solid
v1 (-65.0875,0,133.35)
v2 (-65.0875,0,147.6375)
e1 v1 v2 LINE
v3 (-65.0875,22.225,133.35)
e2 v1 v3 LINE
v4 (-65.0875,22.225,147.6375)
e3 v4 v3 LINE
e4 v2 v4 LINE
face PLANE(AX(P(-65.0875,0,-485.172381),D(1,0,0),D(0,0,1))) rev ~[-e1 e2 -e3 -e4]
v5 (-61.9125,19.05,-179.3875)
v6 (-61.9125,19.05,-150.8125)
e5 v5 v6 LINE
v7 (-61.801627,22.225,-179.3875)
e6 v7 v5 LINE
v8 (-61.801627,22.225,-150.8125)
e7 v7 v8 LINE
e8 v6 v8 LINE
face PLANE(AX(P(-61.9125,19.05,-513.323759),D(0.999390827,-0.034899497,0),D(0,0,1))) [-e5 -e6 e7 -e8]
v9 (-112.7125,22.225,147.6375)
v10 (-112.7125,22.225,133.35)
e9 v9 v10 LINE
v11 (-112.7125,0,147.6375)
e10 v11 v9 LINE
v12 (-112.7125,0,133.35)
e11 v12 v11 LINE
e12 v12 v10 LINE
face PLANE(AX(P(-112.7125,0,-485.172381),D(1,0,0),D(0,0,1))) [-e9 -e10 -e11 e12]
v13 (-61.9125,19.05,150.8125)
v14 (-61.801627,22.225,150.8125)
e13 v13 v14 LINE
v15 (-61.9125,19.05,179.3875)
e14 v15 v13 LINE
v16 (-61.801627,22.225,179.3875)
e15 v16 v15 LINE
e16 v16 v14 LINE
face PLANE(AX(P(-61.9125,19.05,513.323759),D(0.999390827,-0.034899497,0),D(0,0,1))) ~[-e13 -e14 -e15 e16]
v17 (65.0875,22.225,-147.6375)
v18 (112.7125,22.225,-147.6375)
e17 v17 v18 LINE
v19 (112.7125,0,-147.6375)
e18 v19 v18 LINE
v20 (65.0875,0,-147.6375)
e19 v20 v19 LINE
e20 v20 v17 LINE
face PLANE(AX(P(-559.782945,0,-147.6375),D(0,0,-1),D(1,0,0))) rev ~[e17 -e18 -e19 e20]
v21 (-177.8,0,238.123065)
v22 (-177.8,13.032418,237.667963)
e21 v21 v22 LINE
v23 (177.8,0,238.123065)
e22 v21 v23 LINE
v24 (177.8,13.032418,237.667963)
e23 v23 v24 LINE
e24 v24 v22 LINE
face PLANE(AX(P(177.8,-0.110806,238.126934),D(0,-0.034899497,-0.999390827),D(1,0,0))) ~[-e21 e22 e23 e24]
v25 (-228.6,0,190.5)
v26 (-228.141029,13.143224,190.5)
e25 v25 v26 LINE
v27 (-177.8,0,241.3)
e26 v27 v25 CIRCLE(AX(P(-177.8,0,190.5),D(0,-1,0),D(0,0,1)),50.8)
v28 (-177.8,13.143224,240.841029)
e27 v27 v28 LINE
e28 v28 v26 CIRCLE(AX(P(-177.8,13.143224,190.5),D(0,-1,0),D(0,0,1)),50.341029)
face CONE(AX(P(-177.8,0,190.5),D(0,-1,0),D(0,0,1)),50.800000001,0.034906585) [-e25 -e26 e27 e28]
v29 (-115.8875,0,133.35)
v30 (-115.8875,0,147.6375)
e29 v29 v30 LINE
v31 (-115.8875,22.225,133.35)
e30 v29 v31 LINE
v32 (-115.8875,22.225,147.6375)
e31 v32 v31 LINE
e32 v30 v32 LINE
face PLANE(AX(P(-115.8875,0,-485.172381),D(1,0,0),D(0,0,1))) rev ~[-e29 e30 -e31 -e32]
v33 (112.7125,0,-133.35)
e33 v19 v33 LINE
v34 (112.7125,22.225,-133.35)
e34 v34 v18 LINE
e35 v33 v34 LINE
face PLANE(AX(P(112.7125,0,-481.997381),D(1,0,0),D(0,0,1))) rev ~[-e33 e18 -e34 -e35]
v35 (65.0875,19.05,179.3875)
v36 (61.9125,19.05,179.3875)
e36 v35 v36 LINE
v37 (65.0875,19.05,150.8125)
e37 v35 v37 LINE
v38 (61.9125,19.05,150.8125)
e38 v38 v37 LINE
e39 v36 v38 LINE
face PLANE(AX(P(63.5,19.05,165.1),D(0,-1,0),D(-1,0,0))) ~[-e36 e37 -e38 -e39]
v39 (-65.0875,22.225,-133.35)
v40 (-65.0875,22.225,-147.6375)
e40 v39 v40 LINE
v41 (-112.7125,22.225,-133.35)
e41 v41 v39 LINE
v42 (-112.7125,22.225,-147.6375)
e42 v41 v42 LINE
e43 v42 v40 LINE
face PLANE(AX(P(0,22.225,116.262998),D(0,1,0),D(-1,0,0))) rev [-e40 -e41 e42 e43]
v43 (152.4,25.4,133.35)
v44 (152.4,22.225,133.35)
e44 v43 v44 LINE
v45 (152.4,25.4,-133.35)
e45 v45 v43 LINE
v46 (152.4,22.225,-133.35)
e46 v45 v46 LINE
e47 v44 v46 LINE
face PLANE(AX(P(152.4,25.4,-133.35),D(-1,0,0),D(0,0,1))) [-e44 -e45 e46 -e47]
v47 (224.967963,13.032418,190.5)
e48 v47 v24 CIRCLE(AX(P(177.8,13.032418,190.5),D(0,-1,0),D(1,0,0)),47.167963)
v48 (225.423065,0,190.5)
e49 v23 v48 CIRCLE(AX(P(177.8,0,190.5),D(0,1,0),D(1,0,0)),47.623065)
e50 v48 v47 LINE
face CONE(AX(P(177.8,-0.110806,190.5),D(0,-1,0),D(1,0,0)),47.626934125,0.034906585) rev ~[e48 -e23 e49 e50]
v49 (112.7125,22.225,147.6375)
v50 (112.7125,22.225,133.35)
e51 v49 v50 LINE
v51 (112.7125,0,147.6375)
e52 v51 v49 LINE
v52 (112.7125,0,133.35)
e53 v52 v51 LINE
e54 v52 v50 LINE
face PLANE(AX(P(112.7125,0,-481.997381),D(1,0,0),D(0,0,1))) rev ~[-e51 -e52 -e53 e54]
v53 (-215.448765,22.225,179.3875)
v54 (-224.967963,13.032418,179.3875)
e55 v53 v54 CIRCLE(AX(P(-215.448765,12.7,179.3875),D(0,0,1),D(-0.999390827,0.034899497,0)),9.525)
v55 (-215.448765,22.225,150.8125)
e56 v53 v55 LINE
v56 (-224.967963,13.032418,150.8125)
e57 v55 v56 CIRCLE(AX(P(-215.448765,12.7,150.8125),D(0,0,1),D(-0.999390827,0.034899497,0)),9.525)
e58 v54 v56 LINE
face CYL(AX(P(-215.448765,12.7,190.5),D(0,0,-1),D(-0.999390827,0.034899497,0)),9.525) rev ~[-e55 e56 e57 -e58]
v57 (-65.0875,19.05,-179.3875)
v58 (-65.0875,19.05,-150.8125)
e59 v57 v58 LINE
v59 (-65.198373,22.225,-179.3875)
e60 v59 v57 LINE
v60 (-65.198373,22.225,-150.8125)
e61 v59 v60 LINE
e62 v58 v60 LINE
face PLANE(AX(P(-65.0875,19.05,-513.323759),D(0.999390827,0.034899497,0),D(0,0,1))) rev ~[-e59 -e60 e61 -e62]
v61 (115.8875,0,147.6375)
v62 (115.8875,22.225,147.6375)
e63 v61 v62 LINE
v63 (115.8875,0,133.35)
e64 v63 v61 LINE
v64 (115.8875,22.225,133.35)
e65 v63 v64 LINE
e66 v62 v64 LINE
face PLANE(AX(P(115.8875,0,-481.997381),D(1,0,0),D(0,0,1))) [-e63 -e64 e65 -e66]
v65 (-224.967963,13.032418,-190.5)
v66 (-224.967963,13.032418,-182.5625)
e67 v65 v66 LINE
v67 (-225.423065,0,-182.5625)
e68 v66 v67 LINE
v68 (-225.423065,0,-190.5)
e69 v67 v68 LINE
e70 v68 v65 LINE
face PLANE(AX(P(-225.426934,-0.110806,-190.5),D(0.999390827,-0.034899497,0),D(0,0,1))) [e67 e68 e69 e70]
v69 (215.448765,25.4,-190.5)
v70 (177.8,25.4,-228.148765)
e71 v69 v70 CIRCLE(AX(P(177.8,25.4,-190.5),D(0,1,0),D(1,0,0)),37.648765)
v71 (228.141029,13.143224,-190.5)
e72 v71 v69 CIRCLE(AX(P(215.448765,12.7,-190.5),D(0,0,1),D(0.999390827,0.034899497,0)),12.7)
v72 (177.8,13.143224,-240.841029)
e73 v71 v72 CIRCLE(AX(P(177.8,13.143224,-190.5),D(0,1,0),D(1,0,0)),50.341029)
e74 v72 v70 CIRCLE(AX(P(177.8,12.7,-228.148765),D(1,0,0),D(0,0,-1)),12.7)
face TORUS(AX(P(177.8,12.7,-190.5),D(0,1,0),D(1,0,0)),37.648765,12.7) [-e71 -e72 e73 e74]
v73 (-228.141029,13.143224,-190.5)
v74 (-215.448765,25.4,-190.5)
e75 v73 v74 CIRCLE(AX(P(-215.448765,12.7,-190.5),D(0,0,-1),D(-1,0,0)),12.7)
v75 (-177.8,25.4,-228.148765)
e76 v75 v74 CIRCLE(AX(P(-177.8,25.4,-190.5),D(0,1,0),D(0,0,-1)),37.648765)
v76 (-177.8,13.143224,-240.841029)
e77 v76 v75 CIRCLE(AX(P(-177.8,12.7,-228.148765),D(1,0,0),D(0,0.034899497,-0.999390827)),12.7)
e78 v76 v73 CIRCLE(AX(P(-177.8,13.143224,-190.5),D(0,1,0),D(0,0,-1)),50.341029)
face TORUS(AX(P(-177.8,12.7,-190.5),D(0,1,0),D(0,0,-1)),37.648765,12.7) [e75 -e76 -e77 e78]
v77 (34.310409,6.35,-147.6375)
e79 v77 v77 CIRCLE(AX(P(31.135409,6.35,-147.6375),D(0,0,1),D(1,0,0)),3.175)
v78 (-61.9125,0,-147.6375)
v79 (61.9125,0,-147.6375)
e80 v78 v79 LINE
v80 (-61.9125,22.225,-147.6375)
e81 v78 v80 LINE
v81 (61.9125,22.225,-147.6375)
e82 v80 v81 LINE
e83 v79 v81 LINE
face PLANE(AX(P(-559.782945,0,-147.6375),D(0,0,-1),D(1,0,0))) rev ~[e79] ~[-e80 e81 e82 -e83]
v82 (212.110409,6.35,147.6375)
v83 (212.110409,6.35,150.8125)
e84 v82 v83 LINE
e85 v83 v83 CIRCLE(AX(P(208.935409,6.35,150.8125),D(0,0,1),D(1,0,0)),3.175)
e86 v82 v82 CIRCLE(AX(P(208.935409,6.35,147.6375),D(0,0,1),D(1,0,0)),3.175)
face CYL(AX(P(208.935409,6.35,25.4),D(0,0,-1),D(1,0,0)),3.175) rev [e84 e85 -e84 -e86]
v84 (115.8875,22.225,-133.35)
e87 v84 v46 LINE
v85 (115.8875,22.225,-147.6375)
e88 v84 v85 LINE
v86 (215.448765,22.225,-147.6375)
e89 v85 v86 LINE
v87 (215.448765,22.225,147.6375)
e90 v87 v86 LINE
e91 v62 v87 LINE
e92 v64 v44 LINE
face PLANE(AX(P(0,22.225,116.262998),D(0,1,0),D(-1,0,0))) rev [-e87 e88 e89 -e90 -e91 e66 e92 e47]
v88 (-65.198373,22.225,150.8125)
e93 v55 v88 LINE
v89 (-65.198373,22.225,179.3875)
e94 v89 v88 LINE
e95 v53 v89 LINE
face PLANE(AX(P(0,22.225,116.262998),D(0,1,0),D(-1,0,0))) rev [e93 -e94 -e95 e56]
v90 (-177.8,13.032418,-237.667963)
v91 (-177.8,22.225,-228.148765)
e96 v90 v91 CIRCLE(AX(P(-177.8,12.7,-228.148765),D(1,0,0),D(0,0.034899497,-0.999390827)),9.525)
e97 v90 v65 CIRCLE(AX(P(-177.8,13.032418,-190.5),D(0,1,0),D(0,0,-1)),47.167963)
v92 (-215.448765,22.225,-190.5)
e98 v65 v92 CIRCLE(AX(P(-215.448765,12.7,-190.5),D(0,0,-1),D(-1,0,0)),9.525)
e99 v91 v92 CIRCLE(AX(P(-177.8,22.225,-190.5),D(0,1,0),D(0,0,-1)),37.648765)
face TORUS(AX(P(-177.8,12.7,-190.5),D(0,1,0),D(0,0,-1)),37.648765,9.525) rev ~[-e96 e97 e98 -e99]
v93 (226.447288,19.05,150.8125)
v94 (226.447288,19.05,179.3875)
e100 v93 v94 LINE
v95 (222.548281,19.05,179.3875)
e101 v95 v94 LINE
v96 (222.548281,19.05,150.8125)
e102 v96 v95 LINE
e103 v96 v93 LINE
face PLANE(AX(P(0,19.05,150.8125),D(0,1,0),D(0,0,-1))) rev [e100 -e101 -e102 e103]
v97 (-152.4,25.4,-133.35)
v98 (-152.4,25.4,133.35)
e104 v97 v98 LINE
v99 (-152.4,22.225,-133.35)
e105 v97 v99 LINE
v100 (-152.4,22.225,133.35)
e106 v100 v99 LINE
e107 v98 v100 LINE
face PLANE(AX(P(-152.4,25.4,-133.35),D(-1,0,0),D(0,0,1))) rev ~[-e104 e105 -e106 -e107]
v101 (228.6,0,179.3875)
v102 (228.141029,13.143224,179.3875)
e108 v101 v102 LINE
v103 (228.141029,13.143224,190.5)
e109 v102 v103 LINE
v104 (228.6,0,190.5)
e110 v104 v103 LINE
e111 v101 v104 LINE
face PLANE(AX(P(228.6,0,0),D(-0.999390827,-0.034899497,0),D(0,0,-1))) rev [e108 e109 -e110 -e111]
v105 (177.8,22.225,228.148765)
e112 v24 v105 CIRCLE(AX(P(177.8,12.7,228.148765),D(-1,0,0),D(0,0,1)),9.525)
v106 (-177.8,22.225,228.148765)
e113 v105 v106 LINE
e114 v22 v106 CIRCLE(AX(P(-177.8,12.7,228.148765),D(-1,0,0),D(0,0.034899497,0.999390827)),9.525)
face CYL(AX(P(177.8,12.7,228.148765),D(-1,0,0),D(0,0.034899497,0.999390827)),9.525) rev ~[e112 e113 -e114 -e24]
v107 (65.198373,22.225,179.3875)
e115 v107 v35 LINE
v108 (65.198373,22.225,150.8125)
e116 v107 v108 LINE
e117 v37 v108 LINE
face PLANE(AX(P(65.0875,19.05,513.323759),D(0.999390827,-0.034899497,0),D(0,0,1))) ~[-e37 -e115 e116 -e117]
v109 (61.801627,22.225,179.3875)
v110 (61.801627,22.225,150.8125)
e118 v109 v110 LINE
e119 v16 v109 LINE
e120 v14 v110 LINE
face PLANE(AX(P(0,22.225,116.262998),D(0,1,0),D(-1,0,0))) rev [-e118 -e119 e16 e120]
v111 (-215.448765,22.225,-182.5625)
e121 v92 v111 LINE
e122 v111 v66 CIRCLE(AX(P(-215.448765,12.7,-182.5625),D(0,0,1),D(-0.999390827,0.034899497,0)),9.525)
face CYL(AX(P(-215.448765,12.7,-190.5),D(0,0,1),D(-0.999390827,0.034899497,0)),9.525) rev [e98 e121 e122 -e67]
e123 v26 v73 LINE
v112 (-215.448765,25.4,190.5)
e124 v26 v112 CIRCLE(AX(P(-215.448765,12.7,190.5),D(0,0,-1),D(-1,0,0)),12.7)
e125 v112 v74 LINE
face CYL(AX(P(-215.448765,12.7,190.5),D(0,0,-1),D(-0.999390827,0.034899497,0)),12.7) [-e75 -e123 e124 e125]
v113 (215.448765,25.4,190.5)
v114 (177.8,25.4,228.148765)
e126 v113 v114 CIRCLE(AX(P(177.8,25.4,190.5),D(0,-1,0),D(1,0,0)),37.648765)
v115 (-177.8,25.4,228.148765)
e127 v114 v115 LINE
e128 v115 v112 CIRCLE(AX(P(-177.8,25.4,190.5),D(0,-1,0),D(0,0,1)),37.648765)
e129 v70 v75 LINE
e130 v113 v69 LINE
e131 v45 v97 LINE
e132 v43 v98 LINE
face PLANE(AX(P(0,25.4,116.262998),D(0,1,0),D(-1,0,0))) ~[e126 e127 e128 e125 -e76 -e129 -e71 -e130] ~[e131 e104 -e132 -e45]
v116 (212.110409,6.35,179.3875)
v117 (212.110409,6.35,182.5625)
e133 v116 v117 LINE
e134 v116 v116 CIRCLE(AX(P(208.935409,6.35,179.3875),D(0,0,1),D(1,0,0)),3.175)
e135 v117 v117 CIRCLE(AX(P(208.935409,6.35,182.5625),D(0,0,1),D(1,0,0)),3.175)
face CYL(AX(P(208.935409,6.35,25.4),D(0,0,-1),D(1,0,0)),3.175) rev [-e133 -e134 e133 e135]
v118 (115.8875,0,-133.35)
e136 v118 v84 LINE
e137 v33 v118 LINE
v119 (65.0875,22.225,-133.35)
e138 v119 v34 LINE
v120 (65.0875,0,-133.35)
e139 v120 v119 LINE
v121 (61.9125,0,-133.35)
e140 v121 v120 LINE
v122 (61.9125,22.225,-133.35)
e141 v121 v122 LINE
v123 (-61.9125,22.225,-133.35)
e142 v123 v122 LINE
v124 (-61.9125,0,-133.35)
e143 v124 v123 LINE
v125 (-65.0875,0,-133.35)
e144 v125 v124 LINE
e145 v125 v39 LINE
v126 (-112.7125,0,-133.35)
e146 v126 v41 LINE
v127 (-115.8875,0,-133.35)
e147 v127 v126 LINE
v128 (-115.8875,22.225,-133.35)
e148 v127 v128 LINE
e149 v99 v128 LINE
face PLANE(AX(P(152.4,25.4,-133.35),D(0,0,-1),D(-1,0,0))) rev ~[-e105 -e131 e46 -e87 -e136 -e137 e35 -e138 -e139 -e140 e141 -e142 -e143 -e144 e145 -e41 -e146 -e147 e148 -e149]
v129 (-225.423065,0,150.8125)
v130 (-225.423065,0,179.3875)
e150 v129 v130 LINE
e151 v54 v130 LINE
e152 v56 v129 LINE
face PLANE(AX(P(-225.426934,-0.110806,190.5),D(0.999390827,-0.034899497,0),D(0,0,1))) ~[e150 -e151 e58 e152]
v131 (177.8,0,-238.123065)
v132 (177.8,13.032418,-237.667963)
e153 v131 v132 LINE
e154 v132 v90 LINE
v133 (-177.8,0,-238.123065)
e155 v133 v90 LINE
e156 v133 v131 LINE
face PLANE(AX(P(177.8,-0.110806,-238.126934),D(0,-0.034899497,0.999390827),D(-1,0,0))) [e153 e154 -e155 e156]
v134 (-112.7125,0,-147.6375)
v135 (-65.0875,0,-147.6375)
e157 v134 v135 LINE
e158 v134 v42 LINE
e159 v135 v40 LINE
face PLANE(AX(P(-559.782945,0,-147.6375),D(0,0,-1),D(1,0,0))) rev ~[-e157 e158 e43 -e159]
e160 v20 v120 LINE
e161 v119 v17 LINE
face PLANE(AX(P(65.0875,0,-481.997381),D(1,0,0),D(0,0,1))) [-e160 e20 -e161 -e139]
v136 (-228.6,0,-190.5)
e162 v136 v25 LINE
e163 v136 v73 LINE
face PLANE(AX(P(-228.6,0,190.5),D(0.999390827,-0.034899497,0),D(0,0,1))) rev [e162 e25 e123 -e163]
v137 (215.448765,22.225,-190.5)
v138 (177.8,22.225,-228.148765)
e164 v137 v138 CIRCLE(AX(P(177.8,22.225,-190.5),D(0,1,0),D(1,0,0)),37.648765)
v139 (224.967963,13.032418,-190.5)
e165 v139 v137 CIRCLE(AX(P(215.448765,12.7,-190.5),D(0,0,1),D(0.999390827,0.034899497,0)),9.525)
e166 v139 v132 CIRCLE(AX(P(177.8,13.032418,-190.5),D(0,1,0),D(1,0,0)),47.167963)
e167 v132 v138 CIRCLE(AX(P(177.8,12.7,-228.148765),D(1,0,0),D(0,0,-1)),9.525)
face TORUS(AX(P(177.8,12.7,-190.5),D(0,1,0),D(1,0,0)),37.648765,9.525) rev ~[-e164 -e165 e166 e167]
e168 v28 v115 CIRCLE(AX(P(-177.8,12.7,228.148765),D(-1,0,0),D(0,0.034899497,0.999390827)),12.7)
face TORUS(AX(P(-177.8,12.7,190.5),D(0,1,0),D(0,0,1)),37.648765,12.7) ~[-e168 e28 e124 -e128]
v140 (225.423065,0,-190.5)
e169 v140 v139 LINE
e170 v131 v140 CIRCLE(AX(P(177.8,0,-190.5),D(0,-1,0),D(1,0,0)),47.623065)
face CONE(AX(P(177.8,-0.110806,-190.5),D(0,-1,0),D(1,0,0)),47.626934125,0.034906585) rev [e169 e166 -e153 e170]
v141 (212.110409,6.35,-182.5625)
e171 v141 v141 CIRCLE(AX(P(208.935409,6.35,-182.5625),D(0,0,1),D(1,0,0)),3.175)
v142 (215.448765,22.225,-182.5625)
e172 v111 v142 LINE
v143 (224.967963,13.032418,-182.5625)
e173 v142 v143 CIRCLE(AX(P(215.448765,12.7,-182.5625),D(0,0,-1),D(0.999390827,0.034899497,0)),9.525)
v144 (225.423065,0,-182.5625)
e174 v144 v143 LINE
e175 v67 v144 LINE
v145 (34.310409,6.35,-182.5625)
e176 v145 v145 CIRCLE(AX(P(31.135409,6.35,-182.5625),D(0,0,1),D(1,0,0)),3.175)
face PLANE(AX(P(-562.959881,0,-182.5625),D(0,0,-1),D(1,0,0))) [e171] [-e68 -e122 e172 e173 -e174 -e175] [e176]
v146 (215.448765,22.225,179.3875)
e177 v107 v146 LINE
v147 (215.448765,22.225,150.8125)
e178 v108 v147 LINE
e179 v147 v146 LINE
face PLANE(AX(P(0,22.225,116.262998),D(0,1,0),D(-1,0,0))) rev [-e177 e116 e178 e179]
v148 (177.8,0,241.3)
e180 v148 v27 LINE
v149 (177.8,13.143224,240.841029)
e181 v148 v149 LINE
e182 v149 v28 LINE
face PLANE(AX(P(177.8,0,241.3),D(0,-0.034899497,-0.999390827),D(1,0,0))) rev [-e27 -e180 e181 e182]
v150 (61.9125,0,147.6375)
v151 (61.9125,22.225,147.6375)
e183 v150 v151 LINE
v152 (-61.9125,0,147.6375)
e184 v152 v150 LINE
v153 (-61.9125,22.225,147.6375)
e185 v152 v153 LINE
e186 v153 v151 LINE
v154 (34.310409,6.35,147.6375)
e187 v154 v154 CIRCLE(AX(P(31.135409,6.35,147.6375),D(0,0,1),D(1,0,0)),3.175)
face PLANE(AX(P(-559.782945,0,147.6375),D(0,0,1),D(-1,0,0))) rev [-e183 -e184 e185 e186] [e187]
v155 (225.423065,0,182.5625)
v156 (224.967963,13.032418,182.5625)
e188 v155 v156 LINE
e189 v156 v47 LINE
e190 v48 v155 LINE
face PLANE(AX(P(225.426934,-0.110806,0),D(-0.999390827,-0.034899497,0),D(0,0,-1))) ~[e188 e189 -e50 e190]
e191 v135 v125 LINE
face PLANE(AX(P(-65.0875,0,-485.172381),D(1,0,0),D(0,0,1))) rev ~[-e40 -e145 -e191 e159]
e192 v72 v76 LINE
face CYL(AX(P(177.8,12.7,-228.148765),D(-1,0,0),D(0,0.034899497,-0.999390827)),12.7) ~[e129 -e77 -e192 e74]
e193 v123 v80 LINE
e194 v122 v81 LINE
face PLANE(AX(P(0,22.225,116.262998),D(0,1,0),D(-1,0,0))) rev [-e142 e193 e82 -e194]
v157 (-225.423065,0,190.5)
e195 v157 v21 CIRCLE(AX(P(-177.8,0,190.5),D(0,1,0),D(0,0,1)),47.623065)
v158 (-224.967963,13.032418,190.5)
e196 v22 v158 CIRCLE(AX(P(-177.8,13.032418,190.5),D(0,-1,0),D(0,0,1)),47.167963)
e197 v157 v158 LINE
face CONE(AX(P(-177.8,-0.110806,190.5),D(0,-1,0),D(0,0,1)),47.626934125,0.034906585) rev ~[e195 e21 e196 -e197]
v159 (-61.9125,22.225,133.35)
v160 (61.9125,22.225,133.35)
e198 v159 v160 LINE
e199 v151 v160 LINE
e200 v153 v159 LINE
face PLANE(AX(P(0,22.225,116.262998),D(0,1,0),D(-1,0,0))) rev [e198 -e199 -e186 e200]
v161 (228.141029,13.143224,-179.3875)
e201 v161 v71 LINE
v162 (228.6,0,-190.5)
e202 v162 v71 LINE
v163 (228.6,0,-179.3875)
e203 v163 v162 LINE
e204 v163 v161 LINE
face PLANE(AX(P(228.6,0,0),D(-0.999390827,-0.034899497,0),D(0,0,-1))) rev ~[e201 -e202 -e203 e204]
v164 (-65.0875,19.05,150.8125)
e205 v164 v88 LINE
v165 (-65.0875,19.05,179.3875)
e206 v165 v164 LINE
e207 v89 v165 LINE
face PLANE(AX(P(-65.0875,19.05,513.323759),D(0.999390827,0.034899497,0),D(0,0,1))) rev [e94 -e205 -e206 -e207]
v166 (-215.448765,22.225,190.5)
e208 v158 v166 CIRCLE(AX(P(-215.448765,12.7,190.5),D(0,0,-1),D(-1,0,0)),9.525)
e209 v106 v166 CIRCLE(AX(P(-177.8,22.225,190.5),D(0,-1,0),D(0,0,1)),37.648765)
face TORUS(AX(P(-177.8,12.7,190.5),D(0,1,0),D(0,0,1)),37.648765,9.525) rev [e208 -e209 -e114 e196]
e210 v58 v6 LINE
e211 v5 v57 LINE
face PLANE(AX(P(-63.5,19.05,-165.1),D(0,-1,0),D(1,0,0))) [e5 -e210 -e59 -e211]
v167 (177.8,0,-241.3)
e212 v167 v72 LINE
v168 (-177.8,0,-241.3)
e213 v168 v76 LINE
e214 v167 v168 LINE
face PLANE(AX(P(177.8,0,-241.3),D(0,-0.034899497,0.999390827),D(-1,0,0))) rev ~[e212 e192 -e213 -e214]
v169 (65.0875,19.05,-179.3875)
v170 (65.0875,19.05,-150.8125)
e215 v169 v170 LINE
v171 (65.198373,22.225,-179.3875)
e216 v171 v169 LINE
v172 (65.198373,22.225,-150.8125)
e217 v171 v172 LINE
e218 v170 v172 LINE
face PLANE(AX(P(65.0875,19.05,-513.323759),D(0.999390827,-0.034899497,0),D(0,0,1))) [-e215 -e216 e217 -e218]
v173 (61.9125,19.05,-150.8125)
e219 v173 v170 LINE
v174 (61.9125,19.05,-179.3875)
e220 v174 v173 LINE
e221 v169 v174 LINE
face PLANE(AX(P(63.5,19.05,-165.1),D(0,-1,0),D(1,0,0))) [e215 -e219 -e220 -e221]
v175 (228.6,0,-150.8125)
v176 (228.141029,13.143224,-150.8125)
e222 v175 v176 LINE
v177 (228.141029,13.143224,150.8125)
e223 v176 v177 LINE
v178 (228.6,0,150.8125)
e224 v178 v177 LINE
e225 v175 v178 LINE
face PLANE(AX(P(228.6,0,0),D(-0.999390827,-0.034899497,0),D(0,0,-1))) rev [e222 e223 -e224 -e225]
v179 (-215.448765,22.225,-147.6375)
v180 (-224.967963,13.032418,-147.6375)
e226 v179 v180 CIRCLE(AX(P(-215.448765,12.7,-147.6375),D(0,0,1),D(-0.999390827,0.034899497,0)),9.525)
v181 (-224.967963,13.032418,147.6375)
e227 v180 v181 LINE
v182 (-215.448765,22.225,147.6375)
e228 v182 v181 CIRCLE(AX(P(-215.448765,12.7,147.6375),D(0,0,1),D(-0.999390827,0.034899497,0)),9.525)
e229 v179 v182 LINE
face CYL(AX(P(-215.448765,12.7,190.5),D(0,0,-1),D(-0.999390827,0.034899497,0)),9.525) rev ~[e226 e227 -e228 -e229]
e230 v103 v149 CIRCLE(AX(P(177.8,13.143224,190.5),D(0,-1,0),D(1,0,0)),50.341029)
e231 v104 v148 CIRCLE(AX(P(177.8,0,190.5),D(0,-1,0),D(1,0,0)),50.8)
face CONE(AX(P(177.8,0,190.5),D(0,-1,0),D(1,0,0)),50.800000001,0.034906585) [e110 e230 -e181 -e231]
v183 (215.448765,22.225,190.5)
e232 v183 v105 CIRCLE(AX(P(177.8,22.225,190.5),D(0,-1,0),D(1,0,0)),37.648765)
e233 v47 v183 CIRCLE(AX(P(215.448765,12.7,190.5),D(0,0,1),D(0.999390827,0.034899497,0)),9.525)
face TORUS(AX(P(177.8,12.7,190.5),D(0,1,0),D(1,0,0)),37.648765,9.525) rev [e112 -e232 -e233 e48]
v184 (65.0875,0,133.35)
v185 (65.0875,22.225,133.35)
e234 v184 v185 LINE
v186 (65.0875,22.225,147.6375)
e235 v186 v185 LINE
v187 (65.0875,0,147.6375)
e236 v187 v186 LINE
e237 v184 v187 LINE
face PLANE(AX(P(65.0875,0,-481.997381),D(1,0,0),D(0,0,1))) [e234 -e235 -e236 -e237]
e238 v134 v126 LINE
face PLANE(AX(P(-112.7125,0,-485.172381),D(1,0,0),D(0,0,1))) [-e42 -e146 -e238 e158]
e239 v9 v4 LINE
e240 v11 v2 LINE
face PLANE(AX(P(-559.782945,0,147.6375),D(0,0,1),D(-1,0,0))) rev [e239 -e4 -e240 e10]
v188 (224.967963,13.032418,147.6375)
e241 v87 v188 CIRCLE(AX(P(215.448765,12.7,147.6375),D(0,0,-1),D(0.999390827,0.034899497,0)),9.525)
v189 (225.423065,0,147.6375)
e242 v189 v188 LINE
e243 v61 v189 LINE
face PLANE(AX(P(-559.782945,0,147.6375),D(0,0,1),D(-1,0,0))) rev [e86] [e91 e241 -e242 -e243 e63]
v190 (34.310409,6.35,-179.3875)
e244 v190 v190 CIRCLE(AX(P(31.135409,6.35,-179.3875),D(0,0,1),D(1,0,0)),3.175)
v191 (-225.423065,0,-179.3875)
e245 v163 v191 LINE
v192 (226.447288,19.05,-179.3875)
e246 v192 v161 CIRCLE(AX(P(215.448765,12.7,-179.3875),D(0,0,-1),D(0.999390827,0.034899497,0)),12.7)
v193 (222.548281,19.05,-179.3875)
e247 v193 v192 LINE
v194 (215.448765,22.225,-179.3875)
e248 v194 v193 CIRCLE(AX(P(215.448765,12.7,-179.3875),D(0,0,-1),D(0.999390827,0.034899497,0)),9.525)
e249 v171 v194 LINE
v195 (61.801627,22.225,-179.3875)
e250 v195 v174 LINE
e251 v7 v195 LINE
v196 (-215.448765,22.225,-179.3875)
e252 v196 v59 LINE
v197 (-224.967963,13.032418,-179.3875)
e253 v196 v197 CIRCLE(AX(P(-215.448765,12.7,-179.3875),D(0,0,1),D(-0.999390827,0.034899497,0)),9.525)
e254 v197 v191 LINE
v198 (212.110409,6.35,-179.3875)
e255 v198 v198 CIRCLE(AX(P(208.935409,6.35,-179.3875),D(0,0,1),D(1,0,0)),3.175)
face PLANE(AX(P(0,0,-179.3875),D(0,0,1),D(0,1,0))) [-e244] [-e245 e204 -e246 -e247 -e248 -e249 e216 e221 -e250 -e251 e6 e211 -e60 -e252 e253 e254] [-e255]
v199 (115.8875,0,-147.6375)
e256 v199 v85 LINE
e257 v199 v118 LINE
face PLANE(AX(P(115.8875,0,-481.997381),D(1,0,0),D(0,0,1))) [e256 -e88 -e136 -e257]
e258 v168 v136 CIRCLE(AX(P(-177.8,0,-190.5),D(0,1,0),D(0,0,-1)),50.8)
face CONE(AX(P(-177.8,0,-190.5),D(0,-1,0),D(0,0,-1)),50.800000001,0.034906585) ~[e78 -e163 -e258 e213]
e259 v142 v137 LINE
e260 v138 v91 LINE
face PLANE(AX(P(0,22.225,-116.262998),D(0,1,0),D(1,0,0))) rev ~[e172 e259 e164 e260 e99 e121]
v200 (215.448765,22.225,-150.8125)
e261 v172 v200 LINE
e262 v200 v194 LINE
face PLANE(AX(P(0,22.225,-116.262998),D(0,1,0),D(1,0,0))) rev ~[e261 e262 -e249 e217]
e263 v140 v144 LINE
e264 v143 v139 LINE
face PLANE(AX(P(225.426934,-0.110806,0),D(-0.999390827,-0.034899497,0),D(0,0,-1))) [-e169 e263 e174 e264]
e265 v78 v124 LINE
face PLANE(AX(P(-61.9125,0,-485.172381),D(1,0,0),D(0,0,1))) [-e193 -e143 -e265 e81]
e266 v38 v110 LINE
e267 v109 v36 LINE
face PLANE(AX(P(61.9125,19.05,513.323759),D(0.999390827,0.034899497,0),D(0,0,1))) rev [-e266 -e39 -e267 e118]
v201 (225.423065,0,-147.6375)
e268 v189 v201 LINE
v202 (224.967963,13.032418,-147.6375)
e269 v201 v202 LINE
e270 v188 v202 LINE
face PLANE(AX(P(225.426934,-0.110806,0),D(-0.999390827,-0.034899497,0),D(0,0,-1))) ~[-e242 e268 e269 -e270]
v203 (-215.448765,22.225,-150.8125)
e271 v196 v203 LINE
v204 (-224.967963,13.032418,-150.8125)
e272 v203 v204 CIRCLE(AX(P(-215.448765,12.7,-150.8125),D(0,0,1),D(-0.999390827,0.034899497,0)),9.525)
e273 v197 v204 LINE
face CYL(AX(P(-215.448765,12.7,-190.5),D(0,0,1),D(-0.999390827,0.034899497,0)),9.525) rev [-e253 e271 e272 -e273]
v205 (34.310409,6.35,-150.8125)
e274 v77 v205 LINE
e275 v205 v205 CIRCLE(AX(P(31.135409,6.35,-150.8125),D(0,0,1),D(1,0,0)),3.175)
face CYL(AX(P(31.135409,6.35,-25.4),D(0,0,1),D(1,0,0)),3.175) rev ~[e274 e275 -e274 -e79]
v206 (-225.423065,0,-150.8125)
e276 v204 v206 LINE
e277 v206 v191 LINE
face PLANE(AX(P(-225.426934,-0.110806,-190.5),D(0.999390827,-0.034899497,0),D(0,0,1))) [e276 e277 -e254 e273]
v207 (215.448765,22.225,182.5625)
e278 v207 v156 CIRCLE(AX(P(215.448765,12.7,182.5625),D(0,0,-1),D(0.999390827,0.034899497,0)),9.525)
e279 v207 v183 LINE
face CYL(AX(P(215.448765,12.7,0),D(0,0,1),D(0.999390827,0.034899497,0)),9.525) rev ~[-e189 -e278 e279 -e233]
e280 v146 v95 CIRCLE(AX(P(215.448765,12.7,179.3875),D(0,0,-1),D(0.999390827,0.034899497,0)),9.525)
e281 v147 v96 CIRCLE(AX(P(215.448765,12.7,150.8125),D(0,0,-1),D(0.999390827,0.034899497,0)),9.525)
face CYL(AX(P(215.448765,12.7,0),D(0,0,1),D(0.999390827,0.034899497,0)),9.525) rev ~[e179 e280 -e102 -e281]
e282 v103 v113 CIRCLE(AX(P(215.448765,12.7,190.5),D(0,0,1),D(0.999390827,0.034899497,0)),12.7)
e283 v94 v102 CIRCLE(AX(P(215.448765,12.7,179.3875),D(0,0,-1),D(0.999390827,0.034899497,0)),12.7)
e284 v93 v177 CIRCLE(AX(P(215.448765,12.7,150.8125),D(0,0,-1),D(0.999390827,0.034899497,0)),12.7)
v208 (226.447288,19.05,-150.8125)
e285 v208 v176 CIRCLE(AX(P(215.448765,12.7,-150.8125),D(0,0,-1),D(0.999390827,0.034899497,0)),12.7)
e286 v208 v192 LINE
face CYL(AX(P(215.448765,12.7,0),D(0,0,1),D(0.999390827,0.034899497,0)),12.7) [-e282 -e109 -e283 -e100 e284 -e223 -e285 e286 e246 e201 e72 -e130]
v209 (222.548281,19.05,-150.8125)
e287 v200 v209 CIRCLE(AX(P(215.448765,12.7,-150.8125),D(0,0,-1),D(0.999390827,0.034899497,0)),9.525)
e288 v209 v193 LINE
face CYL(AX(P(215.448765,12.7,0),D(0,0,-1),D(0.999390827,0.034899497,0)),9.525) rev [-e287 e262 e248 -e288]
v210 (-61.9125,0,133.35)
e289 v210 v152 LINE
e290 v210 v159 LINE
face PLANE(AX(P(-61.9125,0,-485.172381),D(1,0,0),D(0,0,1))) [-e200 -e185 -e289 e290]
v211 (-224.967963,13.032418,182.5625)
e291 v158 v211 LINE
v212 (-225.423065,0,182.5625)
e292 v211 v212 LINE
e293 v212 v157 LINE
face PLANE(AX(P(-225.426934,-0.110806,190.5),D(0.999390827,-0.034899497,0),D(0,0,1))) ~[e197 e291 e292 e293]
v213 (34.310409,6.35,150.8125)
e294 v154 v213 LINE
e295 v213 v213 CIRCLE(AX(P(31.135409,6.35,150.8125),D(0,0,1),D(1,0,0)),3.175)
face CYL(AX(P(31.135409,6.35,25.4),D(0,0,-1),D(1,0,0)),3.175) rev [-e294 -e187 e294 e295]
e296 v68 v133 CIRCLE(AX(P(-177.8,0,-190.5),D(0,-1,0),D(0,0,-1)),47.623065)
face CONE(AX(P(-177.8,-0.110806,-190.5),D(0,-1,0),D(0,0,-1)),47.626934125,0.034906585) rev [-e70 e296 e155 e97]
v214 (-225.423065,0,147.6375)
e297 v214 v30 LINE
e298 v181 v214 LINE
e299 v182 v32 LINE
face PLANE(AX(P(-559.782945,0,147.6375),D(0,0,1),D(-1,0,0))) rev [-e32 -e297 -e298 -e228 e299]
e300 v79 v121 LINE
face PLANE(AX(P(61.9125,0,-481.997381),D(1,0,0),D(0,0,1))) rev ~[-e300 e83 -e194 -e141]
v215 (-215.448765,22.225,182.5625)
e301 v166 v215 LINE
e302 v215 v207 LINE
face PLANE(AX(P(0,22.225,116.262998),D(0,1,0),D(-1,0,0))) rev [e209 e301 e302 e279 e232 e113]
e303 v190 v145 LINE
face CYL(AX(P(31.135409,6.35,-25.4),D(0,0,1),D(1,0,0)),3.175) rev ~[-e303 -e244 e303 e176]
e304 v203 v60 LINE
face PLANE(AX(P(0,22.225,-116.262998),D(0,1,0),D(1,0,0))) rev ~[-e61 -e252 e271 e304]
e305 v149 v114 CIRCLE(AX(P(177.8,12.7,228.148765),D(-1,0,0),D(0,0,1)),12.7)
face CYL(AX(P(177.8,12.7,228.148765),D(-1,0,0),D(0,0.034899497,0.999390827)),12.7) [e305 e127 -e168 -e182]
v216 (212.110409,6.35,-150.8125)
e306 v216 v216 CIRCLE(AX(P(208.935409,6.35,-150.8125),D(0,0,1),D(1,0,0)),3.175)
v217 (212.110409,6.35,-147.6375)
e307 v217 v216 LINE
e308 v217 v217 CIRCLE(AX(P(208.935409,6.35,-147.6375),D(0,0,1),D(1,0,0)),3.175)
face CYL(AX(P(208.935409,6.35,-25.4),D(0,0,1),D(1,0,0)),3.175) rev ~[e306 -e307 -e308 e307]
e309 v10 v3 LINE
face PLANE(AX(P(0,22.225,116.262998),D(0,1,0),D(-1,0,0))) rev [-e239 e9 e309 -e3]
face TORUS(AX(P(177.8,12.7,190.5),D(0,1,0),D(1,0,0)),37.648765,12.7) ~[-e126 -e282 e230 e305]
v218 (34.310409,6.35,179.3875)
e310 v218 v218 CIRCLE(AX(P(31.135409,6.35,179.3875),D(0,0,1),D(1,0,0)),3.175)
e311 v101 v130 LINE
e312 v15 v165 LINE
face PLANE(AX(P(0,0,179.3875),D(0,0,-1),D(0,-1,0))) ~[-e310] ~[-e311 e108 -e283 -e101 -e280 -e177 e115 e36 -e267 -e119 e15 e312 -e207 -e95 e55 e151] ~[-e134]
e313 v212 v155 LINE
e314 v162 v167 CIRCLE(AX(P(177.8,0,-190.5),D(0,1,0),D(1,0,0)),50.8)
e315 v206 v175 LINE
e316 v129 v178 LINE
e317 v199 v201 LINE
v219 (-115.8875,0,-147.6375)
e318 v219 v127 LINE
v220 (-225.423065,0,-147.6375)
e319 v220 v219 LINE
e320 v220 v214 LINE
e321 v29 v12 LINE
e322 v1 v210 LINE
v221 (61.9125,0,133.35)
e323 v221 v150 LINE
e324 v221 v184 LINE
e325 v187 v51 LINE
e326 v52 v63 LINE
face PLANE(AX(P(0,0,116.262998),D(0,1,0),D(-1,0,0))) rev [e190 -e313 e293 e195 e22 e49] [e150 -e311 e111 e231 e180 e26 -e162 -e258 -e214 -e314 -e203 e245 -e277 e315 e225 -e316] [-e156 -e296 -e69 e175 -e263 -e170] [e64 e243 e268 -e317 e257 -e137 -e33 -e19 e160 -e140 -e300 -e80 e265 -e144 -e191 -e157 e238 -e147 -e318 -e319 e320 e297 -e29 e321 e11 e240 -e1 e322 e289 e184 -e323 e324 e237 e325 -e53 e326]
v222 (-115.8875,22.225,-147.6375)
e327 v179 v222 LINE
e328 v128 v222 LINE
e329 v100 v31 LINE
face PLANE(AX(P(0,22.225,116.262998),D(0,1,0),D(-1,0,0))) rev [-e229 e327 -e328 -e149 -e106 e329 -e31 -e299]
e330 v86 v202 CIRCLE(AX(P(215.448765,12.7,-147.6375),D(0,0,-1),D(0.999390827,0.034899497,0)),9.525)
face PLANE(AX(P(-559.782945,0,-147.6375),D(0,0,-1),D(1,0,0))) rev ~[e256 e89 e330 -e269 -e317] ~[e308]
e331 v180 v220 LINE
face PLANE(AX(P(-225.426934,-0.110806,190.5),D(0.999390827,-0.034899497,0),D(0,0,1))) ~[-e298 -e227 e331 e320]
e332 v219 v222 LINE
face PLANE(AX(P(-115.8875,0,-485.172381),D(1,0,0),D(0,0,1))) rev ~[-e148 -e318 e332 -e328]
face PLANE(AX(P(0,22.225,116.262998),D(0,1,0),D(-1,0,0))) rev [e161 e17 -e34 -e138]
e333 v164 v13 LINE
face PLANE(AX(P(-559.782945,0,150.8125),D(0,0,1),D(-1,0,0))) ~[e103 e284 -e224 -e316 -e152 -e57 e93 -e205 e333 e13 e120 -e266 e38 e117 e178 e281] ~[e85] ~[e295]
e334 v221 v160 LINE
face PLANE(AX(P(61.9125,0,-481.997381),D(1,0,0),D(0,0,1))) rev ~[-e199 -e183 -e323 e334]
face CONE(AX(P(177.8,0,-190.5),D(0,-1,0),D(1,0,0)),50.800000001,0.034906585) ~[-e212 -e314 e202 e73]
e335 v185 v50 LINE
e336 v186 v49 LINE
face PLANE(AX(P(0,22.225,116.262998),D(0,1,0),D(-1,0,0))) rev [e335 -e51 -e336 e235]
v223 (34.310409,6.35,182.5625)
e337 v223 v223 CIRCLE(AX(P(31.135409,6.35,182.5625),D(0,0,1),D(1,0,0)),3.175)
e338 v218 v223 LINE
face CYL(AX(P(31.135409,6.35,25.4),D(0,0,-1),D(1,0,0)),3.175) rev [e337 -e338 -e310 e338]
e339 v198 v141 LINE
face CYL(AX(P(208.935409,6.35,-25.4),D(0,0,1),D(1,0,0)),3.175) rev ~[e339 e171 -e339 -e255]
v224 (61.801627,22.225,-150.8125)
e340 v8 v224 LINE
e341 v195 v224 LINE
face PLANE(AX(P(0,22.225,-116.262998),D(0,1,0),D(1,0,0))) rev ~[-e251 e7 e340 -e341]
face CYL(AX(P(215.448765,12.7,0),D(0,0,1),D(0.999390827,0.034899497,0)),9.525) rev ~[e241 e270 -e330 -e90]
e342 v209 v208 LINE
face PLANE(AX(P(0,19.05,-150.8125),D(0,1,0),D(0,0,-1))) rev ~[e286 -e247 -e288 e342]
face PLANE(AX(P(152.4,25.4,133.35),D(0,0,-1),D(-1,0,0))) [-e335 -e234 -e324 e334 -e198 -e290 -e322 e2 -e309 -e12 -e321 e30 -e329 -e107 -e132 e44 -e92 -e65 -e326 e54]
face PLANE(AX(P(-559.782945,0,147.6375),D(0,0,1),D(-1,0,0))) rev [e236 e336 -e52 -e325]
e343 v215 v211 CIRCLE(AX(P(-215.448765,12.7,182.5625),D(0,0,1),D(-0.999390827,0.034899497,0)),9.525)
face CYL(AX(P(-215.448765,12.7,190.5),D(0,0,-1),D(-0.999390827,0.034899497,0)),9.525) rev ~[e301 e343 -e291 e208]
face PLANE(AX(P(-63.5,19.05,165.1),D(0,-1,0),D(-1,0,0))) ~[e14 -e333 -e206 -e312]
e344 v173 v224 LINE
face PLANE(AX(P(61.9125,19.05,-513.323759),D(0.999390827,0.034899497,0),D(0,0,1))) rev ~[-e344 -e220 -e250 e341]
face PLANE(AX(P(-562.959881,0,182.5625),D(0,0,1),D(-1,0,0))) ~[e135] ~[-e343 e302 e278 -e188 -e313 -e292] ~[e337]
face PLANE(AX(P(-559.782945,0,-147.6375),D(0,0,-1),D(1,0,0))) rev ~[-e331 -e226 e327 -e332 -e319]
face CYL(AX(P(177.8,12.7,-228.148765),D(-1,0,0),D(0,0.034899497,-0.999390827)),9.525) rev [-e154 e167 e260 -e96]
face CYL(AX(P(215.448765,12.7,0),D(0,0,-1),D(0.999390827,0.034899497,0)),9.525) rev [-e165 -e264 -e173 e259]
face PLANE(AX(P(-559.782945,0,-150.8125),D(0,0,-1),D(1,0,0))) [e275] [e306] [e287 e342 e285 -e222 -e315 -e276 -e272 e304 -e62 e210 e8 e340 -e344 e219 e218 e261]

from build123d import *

# Parameters (mm, degrees)
EXTRUDE1_DEPTH     = 25.4
DRAFT1_ANGLE       = -2
FILLET1_R          = 12.7
SHELL2_T           = -3.175
RIB1_REACH         = 335.36
SKETCH3_WALLS_W    = 1109.591591228
SKETCH3_WALLS_H    = 3.175
SKETCH3_WALLS_W_2  = 1112.768526531
SKETCH4_W          = 28.575
SKETCH4_H          = 19.05
CUT_EXTRUDE2_DEPTH = 334.359880758
CUT_EXTRUDE3_REACH = 360.76
CUT_EXTRUDE3_START = -25.4
SKETCH6_R          = 3.175
RIB4_REACH         = 334.936
SKETCH9_WALLS_W    = 3.175
SKETCH9_WALLS_H    = 696.447518122
RIB4_DRAFT_ANGLE   = 2
RIB5_REACH         = 335.36
SKETCH11_WALLS_W   = 3.175
SKETCH11_WALLS_H   = 963.994761516
SKETCH11_WALLS_H_2 = 967.169761516
SKETCH10_W         = 304.8
SKETCH10_H         = 266.7
CUT_EXTRUDE4_DEPTH = 334.359880758


with BuildPart() as part:
    # Sketch1 → Extrude1 (new body)
    with BuildSketch(Plane(origin=(0, 0, 0), x_dir=(1, 0, 0), z_dir=(0, 1, 0))):
        with BuildLine():
            Line((228.6, 0), (228.6, 190.5))
            ThreePointArc((228.6, 190.5), (213.721024484, 226.421024484), (177.8, 241.3))
            Line((177.8, 241.3), (-177.8, 241.3))
            ThreePointArc((-177.8, 241.3), (-213.721024484, 226.421024484), (-228.6, 190.5))
            Line((-228.6, 190.5), (-228.6, 0))
            Line((-228.6, 0), (228.6, 0))
        make_face()
    extrude(amount=EXTRUDE1_DEPTH)

    # Draft1
    draft1_faces = [part.faces().sort_by_distance(p)[0] for p in [
        (228.6, 12.7, -95.25),
    ]]
    draft(draft1_faces, Plane(origin=(-177.8, 0, -190.5), x_dir=(0, 0, -1), z_dir=(0, -1, 0)), DRAFT1_ANGLE)

    # Fillet1
    fillet1_edges = [part.edges().sort_by_distance(p)[0] for p in [
        (227.713012455, 25.4, -95.25),
        (213.093829576, 25.4, -225.793829576),
        (0, 25.4, -240.413012455),
        (-213.093829576, 25.4, -225.793829576),
        (-227.713012455, 25.4, -95.25),
    ]]
    fillet(fillet1_edges, radius=FILLET1_R)

    # Shell2
    shell2_openings = [part.faces().sort_by_distance(p)[0] for p in [
        (0, 12.636517927, 0),
        (0, 0, -119.541485653),
    ]]
    offset(amount=SHELL2_T, openings=shell2_openings, kind=Kind.INTERSECTION)

    # Sketch3 walls → Rib1 (add, up to next)
    with BuildSketch(Plane.XZ, mode=Mode.PRIVATE) as rib1_sk1:
        with Locations((-4.987149841, -149.225)):
            Rectangle(SKETCH3_WALLS_W, SKETCH3_WALLS_H)
    rib1_tool1 = extrude(rib1_sk1.sketch, amount=-RIB1_REACH, mode=Mode.PRIVATE) - part.part
    # Sketch3 walls → Rib1 (add, up to next)
    with BuildSketch(Plane.XZ, mode=Mode.PRIVATE) as rib1_sk2:
        with Locations((-6.575617492, -180.975)):
            Rectangle(SKETCH3_WALLS_W_2, SKETCH3_WALLS_H)
    rib1_tool2 = extrude(rib1_sk2.sketch, amount=-RIB1_REACH, mode=Mode.PRIVATE) - part.part
    add(rib1_tool1.solids().sort_by_distance((-4.987149841, 0, -149.225))[0])
    add(rib1_tool2.solids().sort_by_distance((-6.575617493, 0, -180.975))[0])

    # Sketch4 → Cut-Extrude2 (cut, through all)
    with BuildSketch(Plane(origin=(0, 0, 0), x_dir=(0, 0, -1), z_dir=(1, 0, 0))):
        with Locations((165.1, 9.525)):
            Rectangle(SKETCH4_W, SKETCH4_H)
    extrude(amount=CUT_EXTRUDE2_DEPTH, mode=Mode.SUBTRACT)

    # Sketch6 → Cut-Extrude3 (cut, up to next)
    with BuildSketch(Plane.XY.offset(CUT_EXTRUDE3_START), mode=Mode.PRIVATE) as cut_extrude3_sk1:
        with Locations((208.935409058, 6.35)):
            Circle(SKETCH6_R)
    cut_extrude3_tool1 = extrude(cut_extrude3_sk1.sketch, amount=-CUT_EXTRUDE3_REACH, mode=Mode.PRIVATE) & part.part
    # Sketch6 → Cut-Extrude3 (cut, up to next)
    with BuildSketch(Plane.XY.offset(CUT_EXTRUDE3_START), mode=Mode.PRIVATE) as cut_extrude3_sk2:
        with Locations((31.135409058, 6.35)):
            Circle(SKETCH6_R)
    cut_extrude3_tool2 = extrude(cut_extrude3_sk2.sketch, amount=-CUT_EXTRUDE3_REACH, mode=Mode.PRIVATE) & part.part
    add(cut_extrude3_tool1.solids().sort_by_distance((208.935409, 6.35, -25.4))[0], mode=Mode.SUBTRACT)
    add(cut_extrude3_tool1.solids().sort_by_distance((208.935409, 6.35, -25.4))[1], mode=Mode.SUBTRACT)
    add(cut_extrude3_tool2.solids().sort_by_distance((31.135409, 6.35, -25.4))[0], mode=Mode.SUBTRACT)
    add(cut_extrude3_tool2.solids().sort_by_distance((31.135409, 6.35, -25.4))[1], mode=Mode.SUBTRACT)

    # Sketch9 walls → Rib4 (add, up to next)
    with BuildSketch(Plane.XZ.offset(-19.05), mode=Mode.PRIVATE) as rib4_sk1:
        with Locations((63.5, -165.1)):
            Rectangle(SKETCH9_WALLS_W, SKETCH9_WALLS_H)
    rib4_tool1 = extrude(rib4_sk1.sketch, amount=-RIB4_REACH, mode=Mode.PRIVATE) - part.part
    # Sketch9 walls → Rib4 (add, up to next)
    with BuildSketch(Plane.XZ.offset(-19.05), mode=Mode.PRIVATE) as rib4_sk2:
        with Locations((-63.5, -165.1)):
            Rectangle(SKETCH9_WALLS_W, SKETCH9_WALLS_H)
    rib4_tool2 = extrude(rib4_sk2.sketch, amount=-RIB4_REACH, mode=Mode.PRIVATE) - part.part
    add(rib4_tool1.solids().sort_by_distance((63.5, 19.05, -165.1))[0])
    add(rib4_tool2.solids().sort_by_distance((-63.5, 19.05, -165.1))[0])

    # Rib4 draft
    rib4_draft_faces = [part.faces().sort_by_distance(p)[0] for p in [
        (61.9125, 19.55, -165.1),
        (65.0875, 19.55, -165.1),
        (-65.0875, 19.55, -165.1),
        (-61.9125, 19.55, -165.1),
    ]]
    draft(rib4_draft_faces, Plane(origin=(63.5, 19.05, -165.1), x_dir=(1, 0, 0), z_dir=(0, -1, 0)), RIB4_DRAFT_ANGLE)

    # Mirror1: part across plane


with BuildPart() as part_1:
    add(part.part)
    add(part.part.mirror(Plane(origin=(-228.6, 25.4, 0), x_dir=(1, 0, 0), z_dir=(0, 0, -1))))

    # Sketch11 walls → Rib5 (add, up to next)
    with BuildSketch(Plane.XZ, mode=Mode.PRIVATE) as rib5_sk1:
        with Locations((63.5, 0)):
            Rectangle(SKETCH11_WALLS_W, SKETCH11_WALLS_H)
    rib5_tool1 = extrude(rib5_sk1.sketch, amount=-RIB5_REACH, mode=Mode.PRIVATE) - part_1.part
    # Sketch11 walls → Rib5 (add, up to next)
    with BuildSketch(Plane.XZ, mode=Mode.PRIVATE) as rib5_sk2:
        with Locations((-63.5, -1.5875)):
            Rectangle(SKETCH11_WALLS_W, SKETCH11_WALLS_H_2)
    rib5_tool2 = extrude(rib5_sk2.sketch, amount=-RIB5_REACH, mode=Mode.PRIVATE) - part_1.part
    # Sketch11 walls → Rib5 (add, up to next)
    with BuildSketch(Plane.XZ, mode=Mode.PRIVATE) as rib5_sk3:
        with Locations((114.3, 0)):
            Rectangle(SKETCH11_WALLS_W, SKETCH11_WALLS_H)
    rib5_tool3 = extrude(rib5_sk3.sketch, amount=-RIB5_REACH, mode=Mode.PRIVATE) - part_1.part
    # Sketch11 walls → Rib5 (add, up to next)
    with BuildSketch(Plane.XZ, mode=Mode.PRIVATE) as rib5_sk4:
        with Locations((-114.3, -1.5875)):
            Rectangle(SKETCH11_WALLS_W, SKETCH11_WALLS_H_2)
    rib5_tool4 = extrude(rib5_sk4.sketch, amount=-RIB5_REACH, mode=Mode.PRIVATE) - part_1.part
    add(rib5_tool1.solids().sort_by_distance((63.5, 0, 0))[0])
    add(rib5_tool2.solids().sort_by_distance((-63.5, 0, -1.5875))[0])
    add(rib5_tool3.solids().sort_by_distance((114.3, 0, 0))[0])
    add(rib5_tool4.solids().sort_by_distance((-114.3, 0, -1.5875))[0])

    # Sketch10 → Cut-Extrude4 (cut, through all)
    with BuildSketch(Plane(origin=(0, 25.4, 0), x_dir=(-1, 0, 0), z_dir=(0, 1, 0))):
        Rectangle(SKETCH10_W, SKETCH10_H)
    extrude(amount=-CUT_EXTRUDE4_DEPTH, mode=Mode.SUBTRACT)


solid = part_1.part
